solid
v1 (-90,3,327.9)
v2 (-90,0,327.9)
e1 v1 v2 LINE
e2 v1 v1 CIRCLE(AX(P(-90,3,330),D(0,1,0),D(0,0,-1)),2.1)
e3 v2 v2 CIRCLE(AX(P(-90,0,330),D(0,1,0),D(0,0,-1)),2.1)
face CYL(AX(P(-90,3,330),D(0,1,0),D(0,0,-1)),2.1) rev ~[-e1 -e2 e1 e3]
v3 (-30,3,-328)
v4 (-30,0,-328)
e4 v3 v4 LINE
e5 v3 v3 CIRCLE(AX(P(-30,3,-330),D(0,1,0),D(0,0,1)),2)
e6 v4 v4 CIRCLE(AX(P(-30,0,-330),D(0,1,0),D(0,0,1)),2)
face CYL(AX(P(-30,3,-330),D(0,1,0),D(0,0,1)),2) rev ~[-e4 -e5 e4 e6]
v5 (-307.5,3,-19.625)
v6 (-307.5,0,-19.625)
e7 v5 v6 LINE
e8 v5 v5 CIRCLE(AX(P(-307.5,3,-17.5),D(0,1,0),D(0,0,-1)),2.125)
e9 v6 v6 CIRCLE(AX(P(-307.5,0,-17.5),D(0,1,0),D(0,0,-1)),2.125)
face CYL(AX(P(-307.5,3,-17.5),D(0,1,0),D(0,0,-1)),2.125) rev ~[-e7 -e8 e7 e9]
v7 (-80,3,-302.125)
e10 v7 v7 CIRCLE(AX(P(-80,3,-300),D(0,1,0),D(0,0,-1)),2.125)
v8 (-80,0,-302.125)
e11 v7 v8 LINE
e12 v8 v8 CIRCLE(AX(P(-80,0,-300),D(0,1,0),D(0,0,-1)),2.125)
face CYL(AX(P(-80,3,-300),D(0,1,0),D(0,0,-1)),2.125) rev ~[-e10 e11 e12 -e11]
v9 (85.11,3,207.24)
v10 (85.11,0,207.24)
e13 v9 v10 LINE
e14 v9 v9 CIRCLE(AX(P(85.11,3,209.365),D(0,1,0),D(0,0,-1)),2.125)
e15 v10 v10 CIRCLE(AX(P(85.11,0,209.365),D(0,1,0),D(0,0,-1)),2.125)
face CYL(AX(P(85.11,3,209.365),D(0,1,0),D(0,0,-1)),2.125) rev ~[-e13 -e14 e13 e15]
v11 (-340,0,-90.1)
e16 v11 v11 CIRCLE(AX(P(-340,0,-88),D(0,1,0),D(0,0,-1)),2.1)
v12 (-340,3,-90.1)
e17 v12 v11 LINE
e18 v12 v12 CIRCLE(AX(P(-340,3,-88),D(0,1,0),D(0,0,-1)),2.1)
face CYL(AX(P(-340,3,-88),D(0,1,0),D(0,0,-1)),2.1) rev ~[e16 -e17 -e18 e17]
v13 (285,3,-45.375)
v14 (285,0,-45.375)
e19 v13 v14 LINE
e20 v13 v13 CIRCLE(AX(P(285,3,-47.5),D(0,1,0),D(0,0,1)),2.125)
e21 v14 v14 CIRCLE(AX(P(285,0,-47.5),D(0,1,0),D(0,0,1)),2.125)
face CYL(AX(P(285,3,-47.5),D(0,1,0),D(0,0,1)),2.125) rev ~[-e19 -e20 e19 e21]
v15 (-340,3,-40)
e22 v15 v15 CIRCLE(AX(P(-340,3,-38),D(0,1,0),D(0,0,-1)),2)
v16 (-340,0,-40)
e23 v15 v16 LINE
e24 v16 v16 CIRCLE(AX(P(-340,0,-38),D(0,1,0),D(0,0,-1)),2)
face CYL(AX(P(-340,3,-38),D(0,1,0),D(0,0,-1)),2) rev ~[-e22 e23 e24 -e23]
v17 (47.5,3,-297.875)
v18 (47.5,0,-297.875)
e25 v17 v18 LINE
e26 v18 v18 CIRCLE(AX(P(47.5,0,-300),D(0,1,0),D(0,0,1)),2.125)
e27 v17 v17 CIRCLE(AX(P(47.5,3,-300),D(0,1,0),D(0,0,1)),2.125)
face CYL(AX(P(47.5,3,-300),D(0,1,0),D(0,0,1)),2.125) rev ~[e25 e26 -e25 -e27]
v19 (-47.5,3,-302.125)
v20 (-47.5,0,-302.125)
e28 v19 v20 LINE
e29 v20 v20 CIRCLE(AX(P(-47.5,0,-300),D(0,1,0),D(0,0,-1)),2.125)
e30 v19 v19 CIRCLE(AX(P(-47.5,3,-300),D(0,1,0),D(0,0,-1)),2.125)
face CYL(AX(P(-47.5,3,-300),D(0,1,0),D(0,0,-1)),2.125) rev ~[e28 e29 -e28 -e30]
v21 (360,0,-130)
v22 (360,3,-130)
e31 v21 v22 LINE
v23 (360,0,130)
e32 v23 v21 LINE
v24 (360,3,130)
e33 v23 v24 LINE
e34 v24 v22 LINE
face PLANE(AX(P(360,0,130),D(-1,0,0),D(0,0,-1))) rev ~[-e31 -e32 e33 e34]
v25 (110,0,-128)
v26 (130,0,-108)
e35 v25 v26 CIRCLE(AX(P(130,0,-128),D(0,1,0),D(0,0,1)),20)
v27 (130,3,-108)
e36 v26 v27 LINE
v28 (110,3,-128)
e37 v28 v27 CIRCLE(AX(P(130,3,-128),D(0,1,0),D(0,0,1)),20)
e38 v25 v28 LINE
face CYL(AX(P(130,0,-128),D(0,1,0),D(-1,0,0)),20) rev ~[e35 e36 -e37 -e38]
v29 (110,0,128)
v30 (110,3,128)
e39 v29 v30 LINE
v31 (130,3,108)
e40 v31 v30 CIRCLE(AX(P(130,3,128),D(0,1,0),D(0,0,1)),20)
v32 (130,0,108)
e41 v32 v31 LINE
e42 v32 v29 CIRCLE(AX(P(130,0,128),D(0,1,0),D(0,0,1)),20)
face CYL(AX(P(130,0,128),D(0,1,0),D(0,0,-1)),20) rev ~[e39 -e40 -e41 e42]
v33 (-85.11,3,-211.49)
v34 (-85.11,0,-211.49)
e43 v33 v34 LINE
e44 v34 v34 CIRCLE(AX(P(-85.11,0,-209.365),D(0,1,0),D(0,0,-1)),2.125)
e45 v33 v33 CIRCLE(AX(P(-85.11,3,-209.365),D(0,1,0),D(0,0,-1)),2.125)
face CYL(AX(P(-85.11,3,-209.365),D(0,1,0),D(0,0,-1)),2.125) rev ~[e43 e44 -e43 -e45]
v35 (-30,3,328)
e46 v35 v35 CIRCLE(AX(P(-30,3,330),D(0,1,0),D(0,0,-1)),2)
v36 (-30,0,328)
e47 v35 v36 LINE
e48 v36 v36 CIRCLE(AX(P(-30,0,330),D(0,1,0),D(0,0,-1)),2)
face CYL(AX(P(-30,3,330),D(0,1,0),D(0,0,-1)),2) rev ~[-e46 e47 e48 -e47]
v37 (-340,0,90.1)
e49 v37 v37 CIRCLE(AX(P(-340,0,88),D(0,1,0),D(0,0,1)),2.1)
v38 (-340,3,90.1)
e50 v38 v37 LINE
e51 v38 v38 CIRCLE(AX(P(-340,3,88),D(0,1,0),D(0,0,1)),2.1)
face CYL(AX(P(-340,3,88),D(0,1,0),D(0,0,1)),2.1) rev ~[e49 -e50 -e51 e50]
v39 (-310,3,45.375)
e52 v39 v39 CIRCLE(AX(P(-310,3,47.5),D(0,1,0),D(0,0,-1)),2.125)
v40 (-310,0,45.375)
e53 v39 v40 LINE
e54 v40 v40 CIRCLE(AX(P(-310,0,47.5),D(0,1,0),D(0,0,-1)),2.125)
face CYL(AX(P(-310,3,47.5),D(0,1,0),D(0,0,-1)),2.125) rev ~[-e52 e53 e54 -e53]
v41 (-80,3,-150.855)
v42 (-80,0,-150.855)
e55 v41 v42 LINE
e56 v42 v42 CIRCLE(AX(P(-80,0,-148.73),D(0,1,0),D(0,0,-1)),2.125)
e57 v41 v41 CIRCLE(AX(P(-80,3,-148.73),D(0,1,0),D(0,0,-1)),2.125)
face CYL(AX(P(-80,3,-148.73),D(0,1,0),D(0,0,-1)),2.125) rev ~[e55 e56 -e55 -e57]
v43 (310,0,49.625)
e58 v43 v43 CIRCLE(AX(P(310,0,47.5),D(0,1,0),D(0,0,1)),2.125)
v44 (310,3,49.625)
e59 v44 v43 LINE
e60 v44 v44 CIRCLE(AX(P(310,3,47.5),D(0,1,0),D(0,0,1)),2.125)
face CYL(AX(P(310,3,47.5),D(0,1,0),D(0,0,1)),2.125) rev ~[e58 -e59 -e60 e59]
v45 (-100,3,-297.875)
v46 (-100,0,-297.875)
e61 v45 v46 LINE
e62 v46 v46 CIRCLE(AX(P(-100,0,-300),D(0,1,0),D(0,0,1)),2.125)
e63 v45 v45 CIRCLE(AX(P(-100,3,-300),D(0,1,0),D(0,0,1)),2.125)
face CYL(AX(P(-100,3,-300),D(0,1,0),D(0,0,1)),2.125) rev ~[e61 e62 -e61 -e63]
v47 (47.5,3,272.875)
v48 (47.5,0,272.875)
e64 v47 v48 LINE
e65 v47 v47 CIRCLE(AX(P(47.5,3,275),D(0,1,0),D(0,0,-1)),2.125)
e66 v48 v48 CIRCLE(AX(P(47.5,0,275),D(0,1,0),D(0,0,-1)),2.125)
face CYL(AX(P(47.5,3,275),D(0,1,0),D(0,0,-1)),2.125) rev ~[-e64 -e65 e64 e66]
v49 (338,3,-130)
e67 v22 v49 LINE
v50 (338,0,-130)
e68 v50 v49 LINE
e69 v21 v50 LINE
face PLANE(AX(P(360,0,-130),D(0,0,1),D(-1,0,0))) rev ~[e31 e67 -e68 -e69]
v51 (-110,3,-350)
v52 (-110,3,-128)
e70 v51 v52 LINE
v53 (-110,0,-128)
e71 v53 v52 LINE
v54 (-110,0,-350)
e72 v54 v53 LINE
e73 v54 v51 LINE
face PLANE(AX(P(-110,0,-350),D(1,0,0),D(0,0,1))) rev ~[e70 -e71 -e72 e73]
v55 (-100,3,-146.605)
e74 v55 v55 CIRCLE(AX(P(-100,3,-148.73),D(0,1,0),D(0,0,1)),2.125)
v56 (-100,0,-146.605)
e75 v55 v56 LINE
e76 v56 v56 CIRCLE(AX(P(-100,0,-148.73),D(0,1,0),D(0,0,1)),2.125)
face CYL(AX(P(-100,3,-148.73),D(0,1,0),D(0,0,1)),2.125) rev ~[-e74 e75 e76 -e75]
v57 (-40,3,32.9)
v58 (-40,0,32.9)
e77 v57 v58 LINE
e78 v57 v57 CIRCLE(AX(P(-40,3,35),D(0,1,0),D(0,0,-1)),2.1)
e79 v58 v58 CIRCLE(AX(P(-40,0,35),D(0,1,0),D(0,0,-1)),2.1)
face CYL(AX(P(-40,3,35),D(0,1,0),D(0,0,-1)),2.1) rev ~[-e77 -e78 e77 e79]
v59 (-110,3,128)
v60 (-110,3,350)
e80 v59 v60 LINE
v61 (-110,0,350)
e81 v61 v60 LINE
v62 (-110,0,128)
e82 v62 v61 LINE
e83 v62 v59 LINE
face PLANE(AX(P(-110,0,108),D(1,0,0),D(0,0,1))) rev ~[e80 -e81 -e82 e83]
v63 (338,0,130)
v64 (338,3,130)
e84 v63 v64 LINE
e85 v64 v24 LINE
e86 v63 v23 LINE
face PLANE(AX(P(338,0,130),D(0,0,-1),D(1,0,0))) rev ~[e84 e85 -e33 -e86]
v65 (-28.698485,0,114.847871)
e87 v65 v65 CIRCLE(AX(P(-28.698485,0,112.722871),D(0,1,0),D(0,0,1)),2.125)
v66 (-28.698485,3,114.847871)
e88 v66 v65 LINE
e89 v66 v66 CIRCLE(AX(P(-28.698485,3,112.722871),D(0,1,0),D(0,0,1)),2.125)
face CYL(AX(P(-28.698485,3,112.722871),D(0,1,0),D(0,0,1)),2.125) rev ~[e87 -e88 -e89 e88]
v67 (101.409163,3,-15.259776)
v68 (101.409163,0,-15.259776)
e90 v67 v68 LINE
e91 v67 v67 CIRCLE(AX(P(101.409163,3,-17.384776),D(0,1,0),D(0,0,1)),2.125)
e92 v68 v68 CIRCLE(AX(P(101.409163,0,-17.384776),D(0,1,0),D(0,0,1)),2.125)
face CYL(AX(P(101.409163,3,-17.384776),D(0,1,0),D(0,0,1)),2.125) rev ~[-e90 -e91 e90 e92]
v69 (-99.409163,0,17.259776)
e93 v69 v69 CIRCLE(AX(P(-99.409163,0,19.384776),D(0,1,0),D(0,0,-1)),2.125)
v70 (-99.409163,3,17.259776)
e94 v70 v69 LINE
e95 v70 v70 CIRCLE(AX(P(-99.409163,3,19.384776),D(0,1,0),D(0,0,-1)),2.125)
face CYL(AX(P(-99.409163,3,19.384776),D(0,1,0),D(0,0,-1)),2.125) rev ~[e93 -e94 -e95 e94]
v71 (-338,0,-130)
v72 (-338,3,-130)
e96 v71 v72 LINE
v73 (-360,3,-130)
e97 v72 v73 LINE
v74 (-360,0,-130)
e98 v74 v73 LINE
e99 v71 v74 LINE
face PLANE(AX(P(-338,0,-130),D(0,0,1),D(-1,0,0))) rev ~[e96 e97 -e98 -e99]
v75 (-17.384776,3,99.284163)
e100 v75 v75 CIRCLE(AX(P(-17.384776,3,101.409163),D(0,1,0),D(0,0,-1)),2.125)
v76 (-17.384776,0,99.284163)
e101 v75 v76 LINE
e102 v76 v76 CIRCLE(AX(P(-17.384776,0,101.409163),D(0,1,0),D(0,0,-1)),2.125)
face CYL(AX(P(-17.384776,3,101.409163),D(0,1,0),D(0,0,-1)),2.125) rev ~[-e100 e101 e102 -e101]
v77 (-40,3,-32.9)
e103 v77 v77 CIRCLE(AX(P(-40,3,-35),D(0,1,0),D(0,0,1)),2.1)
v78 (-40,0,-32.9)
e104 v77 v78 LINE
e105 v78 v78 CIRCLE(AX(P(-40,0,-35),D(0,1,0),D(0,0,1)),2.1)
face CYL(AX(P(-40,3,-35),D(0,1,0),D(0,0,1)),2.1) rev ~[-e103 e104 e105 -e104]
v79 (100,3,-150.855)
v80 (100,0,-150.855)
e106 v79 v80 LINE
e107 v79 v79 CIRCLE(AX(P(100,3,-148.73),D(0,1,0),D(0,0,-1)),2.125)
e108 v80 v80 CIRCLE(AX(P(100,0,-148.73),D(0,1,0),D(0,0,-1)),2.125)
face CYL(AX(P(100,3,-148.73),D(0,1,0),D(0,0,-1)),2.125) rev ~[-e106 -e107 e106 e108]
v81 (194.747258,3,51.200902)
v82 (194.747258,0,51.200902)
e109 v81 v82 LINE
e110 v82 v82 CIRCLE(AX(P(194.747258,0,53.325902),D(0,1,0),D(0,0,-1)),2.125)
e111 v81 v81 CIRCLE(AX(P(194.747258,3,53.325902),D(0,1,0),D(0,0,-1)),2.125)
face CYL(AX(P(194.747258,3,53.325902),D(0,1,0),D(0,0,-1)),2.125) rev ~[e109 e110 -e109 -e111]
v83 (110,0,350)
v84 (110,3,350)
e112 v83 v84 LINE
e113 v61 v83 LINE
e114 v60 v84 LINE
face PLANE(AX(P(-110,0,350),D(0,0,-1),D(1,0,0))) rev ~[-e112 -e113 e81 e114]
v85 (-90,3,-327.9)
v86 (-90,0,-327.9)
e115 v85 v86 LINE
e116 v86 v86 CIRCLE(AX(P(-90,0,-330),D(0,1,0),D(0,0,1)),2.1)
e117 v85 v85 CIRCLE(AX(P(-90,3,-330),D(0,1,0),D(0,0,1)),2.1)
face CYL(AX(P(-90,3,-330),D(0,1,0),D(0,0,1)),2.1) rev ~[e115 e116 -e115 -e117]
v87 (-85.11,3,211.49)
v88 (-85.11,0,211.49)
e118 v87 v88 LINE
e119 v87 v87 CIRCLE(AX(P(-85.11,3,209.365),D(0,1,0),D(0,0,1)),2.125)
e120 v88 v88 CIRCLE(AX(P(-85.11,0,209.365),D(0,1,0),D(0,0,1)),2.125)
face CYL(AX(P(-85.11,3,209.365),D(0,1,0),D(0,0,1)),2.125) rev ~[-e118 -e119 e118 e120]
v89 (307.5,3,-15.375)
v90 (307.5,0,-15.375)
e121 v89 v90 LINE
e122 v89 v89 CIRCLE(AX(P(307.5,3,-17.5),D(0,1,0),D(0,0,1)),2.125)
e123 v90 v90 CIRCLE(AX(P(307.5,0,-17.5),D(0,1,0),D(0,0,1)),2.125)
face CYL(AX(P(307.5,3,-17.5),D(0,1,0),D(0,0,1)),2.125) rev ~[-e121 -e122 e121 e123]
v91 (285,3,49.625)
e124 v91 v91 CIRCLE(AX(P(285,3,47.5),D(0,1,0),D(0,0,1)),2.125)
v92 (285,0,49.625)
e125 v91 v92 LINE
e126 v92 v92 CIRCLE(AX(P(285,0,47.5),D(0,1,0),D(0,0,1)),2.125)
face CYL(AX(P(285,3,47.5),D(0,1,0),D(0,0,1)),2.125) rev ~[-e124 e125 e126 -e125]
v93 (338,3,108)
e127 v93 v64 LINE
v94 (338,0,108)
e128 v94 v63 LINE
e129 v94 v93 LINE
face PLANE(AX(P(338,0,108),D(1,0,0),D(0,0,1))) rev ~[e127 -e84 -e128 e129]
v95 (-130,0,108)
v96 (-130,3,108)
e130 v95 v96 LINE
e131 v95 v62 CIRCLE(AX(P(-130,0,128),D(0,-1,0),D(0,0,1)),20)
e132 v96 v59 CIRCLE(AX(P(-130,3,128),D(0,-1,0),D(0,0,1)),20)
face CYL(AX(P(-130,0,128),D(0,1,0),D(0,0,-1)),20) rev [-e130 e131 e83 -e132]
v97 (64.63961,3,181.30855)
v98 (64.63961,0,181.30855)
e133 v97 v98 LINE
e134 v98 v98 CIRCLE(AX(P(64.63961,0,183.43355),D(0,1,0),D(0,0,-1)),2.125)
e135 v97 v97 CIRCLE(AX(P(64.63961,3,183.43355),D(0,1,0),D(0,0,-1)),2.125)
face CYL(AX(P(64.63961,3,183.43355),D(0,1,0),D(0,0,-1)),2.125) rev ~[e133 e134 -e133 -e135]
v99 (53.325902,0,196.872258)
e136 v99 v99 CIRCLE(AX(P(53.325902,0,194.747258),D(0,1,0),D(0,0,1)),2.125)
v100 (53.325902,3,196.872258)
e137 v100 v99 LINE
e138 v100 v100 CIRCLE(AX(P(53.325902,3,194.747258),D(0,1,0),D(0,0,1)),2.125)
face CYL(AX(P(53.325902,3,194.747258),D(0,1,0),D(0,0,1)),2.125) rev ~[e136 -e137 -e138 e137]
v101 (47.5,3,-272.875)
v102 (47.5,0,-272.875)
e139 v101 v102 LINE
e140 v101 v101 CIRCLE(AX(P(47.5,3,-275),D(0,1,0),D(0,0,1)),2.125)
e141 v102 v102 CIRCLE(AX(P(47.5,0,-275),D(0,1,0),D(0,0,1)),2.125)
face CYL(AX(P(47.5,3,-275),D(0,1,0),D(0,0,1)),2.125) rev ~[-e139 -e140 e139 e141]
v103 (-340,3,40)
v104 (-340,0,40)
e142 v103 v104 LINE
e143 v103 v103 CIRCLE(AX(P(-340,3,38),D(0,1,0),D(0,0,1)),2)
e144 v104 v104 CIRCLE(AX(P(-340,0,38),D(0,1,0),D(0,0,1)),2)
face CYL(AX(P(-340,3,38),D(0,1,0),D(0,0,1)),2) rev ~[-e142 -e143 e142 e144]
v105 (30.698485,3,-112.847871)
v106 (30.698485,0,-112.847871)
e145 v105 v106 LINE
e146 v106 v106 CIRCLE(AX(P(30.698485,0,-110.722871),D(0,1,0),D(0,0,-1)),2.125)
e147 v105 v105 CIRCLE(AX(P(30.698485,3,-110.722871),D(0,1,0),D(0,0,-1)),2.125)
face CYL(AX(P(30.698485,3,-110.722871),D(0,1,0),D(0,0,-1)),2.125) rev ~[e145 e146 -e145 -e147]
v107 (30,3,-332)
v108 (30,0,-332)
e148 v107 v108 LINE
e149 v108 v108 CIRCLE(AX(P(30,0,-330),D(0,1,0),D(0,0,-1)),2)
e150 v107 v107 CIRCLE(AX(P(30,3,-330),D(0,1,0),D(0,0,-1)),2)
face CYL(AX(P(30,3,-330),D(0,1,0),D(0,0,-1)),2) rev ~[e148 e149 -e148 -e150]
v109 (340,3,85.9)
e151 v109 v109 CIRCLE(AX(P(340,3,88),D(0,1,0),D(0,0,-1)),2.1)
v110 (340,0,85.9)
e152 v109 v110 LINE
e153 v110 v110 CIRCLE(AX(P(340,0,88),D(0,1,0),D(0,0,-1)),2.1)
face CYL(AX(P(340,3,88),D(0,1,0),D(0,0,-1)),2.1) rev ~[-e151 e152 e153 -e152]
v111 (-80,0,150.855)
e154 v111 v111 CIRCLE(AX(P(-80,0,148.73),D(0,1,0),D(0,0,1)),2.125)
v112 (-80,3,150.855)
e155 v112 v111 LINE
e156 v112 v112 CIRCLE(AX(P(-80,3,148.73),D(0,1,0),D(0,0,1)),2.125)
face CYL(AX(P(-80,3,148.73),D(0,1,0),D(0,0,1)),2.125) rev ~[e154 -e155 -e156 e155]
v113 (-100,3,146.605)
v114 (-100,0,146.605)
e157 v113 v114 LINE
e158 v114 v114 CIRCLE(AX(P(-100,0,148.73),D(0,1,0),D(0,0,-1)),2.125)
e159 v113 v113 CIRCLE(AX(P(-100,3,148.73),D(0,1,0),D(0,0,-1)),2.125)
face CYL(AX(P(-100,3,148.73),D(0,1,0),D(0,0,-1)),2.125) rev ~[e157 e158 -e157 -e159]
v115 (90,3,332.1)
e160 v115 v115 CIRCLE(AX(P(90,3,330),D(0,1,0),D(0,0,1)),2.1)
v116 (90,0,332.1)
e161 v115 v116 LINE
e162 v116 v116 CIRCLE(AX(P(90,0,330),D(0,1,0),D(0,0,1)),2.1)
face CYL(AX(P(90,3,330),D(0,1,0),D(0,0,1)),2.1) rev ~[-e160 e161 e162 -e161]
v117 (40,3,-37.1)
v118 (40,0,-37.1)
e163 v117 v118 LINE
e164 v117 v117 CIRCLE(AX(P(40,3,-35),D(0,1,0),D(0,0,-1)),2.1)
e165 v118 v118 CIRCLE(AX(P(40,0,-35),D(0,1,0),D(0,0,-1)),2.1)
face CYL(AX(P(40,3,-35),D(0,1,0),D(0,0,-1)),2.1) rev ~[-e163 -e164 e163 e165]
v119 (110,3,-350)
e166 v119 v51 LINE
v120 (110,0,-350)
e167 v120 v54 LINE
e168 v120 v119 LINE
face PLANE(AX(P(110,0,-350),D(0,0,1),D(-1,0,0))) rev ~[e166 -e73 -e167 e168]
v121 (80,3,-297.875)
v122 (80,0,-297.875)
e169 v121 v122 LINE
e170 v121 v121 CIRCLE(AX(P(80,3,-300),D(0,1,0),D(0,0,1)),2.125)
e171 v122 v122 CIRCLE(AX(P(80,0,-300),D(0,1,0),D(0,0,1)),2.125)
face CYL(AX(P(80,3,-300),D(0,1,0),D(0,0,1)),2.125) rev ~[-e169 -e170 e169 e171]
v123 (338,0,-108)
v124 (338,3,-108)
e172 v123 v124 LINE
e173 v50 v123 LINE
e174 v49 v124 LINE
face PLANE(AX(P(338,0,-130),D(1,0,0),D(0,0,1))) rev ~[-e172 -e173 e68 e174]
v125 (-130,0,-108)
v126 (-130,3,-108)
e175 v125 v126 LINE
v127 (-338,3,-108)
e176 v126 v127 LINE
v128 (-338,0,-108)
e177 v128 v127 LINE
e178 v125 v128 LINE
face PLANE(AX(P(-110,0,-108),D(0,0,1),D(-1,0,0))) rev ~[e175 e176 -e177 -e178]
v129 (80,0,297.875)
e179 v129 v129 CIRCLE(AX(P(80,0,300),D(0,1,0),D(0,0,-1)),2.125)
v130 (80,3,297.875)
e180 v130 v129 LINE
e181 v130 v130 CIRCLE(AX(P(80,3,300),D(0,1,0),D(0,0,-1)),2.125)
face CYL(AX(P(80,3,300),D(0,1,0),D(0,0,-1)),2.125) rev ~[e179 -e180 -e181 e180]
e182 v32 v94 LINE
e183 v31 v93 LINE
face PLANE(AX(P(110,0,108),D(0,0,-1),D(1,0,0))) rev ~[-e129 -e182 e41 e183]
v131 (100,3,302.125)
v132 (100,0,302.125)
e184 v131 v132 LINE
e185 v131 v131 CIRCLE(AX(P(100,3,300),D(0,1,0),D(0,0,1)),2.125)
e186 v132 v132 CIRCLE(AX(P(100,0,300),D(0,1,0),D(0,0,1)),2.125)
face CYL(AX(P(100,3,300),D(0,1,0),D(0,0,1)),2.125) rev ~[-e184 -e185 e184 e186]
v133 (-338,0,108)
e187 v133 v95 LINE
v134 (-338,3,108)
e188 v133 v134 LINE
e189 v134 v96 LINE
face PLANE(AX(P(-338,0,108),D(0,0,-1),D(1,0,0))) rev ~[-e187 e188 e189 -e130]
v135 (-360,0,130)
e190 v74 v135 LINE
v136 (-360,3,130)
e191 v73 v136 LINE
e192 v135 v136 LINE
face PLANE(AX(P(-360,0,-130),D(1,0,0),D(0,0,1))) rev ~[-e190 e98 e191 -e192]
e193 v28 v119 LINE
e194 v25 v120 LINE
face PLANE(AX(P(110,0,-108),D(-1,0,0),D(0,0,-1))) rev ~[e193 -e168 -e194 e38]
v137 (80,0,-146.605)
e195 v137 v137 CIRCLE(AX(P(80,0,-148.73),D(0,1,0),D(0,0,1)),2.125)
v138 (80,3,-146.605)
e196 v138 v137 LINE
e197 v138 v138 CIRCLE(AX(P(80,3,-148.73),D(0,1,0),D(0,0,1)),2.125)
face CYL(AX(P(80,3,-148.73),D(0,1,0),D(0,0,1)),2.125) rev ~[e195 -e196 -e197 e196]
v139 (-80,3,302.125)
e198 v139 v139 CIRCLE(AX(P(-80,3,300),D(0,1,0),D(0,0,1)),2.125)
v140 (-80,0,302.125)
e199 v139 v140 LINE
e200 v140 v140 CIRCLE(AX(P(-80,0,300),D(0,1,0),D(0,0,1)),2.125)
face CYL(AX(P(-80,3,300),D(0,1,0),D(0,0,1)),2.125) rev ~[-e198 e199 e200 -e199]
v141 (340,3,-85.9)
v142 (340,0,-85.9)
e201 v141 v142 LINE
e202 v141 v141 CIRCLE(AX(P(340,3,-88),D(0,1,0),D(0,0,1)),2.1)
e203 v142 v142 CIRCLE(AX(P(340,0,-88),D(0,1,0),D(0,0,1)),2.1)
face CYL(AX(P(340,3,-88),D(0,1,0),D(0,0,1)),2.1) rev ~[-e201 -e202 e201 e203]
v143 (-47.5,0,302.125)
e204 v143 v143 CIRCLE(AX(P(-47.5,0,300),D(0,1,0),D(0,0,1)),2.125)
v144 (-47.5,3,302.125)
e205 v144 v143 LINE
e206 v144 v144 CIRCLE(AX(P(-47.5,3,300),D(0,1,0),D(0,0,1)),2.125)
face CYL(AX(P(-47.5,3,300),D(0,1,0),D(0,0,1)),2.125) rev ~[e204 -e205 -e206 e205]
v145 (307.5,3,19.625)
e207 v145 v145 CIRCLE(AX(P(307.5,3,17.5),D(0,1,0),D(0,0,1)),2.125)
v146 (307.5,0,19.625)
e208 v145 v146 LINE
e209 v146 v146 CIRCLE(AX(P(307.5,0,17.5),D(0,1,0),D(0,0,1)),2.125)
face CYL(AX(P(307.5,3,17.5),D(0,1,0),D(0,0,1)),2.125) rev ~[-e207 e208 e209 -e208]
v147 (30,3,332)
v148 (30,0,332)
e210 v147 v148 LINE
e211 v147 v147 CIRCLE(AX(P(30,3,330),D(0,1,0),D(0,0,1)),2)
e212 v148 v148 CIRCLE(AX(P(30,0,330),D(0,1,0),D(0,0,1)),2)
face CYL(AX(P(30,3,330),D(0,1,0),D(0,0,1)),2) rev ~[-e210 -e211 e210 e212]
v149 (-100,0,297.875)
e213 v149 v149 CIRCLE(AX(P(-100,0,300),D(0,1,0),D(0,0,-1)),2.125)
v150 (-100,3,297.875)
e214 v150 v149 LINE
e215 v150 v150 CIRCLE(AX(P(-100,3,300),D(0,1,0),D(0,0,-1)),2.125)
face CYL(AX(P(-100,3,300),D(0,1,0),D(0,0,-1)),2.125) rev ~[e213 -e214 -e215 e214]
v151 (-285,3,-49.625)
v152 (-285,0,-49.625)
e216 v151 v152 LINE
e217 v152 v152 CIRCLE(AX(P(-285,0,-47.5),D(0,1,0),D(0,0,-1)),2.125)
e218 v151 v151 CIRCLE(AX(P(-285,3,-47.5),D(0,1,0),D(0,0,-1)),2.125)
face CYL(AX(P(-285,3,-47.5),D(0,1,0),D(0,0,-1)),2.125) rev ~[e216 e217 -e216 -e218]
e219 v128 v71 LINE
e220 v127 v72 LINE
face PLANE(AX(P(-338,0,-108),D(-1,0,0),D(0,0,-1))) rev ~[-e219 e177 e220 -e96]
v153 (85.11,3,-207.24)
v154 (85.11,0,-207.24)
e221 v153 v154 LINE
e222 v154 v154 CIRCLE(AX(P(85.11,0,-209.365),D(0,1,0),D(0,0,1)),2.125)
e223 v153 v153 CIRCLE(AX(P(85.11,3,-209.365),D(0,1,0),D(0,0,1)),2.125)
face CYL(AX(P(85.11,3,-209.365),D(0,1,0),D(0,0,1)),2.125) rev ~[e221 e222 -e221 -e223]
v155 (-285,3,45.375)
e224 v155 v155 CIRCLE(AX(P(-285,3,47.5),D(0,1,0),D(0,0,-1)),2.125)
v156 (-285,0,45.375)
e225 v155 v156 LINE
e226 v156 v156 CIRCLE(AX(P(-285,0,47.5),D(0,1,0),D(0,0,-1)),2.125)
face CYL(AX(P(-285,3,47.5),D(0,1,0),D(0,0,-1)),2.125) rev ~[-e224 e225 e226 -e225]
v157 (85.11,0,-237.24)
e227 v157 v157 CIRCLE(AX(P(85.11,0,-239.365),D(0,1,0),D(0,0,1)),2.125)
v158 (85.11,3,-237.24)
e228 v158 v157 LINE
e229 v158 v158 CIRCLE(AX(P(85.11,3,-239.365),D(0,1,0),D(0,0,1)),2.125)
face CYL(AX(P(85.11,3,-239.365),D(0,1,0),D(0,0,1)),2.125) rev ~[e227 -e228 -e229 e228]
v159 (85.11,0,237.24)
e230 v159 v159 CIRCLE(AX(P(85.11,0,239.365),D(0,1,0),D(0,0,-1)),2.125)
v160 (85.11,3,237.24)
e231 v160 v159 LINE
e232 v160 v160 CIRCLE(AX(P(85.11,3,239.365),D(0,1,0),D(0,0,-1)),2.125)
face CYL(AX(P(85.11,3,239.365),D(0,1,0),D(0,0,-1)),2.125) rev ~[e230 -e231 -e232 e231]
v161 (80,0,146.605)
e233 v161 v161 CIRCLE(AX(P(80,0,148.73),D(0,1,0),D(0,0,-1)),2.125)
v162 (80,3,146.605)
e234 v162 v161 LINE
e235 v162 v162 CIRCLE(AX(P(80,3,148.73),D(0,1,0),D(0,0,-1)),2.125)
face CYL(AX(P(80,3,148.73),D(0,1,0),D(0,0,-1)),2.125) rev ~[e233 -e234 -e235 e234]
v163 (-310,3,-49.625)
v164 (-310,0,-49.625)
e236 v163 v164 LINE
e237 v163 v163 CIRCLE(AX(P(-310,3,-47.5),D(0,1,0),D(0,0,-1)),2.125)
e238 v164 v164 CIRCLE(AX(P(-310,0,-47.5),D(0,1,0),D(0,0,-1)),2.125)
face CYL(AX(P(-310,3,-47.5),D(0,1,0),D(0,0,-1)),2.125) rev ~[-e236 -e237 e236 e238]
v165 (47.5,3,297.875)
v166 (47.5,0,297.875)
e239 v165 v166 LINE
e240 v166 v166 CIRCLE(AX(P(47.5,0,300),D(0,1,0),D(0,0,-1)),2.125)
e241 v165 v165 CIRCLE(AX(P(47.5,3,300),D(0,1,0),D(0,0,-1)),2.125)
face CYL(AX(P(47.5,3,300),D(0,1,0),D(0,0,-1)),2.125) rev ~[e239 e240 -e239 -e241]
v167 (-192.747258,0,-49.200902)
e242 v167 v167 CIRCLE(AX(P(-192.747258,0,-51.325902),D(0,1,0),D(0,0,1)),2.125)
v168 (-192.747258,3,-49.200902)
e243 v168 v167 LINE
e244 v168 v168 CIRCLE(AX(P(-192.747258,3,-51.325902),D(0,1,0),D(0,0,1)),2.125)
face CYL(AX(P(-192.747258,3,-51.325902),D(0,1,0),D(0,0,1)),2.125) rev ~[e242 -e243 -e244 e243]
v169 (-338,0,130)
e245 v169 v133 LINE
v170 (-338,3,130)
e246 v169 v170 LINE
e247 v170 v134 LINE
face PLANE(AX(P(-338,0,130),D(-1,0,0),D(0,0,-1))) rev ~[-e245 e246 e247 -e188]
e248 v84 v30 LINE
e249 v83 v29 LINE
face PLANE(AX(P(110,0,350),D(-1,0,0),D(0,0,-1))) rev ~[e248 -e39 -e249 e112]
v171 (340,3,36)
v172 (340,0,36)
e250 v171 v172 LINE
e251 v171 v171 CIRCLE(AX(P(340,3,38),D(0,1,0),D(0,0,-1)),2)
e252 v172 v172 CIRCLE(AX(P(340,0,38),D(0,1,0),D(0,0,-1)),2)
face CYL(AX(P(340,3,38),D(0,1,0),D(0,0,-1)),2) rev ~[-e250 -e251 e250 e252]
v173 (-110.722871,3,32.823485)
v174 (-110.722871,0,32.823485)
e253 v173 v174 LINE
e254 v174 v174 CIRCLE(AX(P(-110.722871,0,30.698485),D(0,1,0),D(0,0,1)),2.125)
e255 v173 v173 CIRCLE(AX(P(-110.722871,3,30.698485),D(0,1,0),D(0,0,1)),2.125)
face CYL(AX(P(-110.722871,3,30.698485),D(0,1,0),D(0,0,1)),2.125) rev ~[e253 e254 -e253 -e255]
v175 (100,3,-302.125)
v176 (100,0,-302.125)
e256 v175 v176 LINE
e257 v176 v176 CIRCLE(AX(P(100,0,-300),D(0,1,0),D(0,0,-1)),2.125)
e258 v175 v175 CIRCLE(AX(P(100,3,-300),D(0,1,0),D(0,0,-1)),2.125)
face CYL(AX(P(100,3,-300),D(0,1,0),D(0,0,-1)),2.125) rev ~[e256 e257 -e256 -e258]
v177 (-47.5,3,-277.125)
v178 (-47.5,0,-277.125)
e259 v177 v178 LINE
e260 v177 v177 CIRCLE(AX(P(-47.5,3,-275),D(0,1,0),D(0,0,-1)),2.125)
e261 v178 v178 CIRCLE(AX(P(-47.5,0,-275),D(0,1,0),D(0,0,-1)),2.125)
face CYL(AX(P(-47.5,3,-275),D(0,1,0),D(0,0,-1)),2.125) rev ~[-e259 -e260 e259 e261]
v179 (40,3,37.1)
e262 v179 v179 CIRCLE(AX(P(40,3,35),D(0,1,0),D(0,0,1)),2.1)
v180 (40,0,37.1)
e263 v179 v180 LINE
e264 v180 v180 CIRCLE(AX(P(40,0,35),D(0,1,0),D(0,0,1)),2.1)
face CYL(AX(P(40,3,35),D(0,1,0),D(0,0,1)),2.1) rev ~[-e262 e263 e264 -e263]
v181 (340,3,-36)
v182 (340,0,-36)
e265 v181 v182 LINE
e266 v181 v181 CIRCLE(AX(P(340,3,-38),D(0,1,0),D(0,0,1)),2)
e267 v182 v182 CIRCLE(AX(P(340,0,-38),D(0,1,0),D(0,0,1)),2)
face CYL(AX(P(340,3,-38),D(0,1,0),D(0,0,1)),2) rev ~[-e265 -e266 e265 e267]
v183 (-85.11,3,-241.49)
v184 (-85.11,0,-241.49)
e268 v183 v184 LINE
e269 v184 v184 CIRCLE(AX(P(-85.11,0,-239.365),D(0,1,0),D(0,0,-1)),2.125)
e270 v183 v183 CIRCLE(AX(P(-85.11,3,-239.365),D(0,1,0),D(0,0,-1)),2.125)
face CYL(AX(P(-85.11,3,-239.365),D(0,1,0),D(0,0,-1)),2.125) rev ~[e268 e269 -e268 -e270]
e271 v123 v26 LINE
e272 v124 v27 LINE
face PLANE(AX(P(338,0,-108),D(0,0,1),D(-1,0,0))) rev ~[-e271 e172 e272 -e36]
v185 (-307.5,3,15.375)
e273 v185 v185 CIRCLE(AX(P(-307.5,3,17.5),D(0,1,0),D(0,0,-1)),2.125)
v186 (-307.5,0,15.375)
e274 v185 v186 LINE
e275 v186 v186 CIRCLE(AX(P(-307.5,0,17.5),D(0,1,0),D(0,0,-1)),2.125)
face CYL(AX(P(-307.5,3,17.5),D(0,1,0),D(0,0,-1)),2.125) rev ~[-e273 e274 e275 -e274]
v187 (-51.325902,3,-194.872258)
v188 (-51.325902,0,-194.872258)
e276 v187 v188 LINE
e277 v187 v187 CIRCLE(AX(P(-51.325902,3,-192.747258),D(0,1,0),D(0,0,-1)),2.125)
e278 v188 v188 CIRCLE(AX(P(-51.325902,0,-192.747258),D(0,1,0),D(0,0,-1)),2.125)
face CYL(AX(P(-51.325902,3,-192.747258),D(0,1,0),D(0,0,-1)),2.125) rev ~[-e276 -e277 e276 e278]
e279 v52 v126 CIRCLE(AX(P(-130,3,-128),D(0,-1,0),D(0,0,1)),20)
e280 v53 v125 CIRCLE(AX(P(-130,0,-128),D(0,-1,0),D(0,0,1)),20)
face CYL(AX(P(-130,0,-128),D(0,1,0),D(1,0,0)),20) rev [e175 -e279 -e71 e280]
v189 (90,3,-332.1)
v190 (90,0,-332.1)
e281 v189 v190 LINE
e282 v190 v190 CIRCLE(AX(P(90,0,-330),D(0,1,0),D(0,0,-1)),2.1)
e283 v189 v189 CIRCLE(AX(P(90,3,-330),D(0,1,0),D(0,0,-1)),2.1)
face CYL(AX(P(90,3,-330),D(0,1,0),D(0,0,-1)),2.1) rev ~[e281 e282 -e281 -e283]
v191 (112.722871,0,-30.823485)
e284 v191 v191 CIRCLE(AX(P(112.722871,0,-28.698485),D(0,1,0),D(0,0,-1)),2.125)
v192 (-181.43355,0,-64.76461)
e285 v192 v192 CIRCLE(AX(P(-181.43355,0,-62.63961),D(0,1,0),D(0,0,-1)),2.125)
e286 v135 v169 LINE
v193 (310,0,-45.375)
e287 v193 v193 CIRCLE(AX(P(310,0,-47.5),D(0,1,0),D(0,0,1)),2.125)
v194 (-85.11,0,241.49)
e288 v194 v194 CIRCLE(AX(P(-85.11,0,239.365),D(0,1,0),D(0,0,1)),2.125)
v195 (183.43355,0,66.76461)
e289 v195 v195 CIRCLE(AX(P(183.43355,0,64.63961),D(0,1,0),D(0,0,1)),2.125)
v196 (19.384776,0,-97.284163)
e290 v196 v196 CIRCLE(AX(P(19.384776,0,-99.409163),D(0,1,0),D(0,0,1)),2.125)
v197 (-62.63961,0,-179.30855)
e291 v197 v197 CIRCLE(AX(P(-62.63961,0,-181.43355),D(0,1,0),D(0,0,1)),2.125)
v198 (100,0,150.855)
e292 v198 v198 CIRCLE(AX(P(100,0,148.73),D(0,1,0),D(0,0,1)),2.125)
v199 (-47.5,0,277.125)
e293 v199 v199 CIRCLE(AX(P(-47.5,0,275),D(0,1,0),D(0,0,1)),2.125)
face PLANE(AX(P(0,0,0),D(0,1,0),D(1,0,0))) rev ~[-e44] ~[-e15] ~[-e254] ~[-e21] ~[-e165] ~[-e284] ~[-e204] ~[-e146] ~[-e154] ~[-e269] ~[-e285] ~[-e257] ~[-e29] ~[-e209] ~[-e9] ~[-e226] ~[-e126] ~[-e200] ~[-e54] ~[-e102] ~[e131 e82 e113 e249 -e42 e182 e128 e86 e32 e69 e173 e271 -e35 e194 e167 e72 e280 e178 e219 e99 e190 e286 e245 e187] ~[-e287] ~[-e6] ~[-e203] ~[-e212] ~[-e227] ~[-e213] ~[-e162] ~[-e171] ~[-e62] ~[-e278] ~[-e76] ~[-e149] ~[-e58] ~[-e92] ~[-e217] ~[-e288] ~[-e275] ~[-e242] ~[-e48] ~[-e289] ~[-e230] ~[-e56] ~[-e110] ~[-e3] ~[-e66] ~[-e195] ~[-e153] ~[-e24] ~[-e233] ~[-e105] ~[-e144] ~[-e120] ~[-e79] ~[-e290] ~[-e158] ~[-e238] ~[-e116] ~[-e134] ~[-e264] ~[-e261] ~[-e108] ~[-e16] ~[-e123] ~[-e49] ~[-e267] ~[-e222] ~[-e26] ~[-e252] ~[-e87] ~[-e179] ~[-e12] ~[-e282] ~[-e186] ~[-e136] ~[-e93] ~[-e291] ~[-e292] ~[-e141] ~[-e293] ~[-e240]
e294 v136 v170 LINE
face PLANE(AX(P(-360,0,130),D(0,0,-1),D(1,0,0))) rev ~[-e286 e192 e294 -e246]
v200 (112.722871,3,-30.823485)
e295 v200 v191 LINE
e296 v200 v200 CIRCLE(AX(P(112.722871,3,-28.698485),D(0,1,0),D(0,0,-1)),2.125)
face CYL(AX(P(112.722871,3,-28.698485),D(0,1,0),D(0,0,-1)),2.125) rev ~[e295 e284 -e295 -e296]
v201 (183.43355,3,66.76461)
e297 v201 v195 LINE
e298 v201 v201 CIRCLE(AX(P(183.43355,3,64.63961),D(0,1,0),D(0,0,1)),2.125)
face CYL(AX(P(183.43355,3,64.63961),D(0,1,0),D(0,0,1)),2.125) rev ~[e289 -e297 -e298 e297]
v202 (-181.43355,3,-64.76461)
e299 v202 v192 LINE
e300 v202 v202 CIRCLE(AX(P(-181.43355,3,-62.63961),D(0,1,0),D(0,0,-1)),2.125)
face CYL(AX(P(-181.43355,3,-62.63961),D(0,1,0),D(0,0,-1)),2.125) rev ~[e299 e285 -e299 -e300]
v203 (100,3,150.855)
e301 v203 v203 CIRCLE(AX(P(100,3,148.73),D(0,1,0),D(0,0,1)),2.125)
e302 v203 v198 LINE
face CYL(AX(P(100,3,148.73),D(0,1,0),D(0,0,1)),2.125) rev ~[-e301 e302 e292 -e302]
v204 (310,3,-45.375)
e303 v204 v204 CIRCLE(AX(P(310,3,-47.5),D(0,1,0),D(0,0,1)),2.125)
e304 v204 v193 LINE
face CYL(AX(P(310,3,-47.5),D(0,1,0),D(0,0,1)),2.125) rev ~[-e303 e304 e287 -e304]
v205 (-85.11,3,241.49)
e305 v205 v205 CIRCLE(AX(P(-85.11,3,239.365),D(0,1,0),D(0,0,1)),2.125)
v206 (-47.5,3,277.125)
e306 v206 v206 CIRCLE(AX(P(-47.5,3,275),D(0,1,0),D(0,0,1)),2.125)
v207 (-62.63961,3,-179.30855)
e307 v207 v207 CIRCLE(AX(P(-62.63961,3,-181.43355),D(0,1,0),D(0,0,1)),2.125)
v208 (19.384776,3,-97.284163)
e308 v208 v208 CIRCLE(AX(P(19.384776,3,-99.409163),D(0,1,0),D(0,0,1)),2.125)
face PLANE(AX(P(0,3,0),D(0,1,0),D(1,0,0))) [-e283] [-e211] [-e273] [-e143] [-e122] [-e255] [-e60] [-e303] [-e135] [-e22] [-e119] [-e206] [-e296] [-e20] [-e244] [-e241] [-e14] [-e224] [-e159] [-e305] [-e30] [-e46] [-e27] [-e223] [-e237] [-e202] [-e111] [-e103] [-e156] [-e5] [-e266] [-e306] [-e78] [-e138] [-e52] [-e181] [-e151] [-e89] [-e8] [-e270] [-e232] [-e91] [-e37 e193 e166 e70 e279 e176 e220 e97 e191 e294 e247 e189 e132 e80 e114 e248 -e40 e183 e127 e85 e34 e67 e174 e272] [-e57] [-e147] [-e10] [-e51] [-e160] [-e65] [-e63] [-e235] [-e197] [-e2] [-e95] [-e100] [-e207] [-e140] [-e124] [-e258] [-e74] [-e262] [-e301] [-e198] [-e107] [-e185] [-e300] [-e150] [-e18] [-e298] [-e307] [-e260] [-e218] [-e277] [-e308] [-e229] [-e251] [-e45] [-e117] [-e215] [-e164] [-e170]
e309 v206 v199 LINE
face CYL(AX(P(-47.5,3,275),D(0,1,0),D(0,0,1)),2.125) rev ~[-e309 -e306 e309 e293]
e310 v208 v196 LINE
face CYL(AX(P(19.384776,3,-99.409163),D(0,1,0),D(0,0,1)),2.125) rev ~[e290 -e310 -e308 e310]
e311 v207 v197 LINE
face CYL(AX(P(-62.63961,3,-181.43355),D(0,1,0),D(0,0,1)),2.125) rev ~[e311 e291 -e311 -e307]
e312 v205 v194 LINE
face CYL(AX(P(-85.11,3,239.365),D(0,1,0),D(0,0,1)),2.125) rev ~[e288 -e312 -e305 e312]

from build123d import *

# Parameters (mm, degrees)
BOSS_EXTRUDE1_DEPTH = 3
SKETCH2_R           = 2.125
CUT_EXTRUDE1_DEPTH  = 503.104570782
SKETCH3_R           = 2
CUT_EXTRUDE2_DEPTH  = 503.104570782
SKETCH5_R           = 2.125
CUT_EXTRUDE4_DEPTH  = 10
FILLET1_R           = 20
SKETCH6_R           = 2.125
CUT_EXTRUDE5_DEPTH  = 503.104570782
SKETCH8_R           = 2.1
CUT_EXTRUDE6_DEPTH  = 10
SKETCH7_R           = 2.1
CUT_EXTRUDE7_DEPTH  = 10


with BuildPart() as part:
    # Sketch1 → Boss-Extrude1 (new body)
    with BuildSketch(Plane(origin=(0, 0, 0), x_dir=(1, 0, 0), z_dir=(0, 1, 0))):
        Polygon((-110, 350), (-110, 108), (-338, 108), (-338, 130), (-360, 130), (-360, -130), (-338, -130), (-338, -108), (-110, -108), (-110, -350), (110, -350), (110, -108), (338, -108), (338, -130), (360, -130), (360, 130), (338, 130), (338, 108), (110, 108), (110, 350), align=None)
    extrude(amount=BOSS_EXTRUDE1_DEPTH)

    # Sketch2 → Cut-Extrude1 (cut, through all)
    with BuildSketch(Plane(origin=(0, 3, 0), x_dir=(1, 0, 0), z_dir=(0, 1, 0))):
        with Locations(Location((310, 47.5, 0), (0, 0, 270))):
            Circle(SKETCH2_R)
        with Locations(Location((285, 47.5, 0), (0, 0, 270))):
            Circle(SKETCH2_R)
        with Locations(Location((307.5, 17.5, 0), (0, 0, 270))):
            Circle(SKETCH2_R)
        with Locations(Location((307.5, -17.5, 0), (0, 0, 270))):
            Circle(SKETCH2_R)
        with Locations(Location((310, -47.5, 0), (0, 0, 270))):
            Circle(SKETCH2_R)
        with Locations(Location((285, -47.5, 0), (0, 0, 270))):
            Circle(SKETCH2_R)
        with Locations(Location((-285, -47.5, 0), (0, 0, 90))):
            Circle(SKETCH2_R)
        with Locations(Location((-310, -47.5, 0), (0, 0, 90))):
            Circle(SKETCH2_R)
        with Locations(Location((-307.5, -17.5, 0), (0, 0, 90))):
            Circle(SKETCH2_R)
        with Locations(Location((-307.5, 17.5, 0), (0, 0, 90))):
            Circle(SKETCH2_R)
        with Locations(Location((-285, 47.5, 0), (0, 0, 90))):
            Circle(SKETCH2_R)
        with Locations(Location((-310, 47.5, 0), (0, 0, 90))):
            Circle(SKETCH2_R)
        with Locations(Location((47.5, 300, 0), (0, 0, 270))):
            Circle(SKETCH2_R)
        with Locations(Location((47.5, 275, 0), (0, 0, 270))):
            Circle(SKETCH2_R)
        with Locations(Location((-47.5, 275, 0), (0, 0, 90))):
            Circle(SKETCH2_R)
        with Locations(Location((-47.5, 300, 0), (0, 0, 90))):
            Circle(SKETCH2_R)
        with Locations(Location((-47.5, -300, 0), (0, 0, 270))):
            Circle(SKETCH2_R)
        with Locations(Location((-47.5, -275, 0), (0, 0, 270))):
            Circle(SKETCH2_R)
        with Locations(Location((47.5, -275, 0), (0, 0, 90))):
            Circle(SKETCH2_R)
        with Locations(Location((47.5, -300, 0), (0, 0, 90))):
            Circle(SKETCH2_R)
    extrude(amount=-CUT_EXTRUDE1_DEPTH, mode=Mode.SUBTRACT)

    # Sketch3 → Cut-Extrude2 (cut, through all)
    with BuildSketch(Plane(origin=(0, 3, 0), x_dir=(1, 0, 0), z_dir=(0, 1, 0))):
        with Locations(Location((340, 38, 0), (0, 0, 270))):
            Circle(SKETCH3_R)
        with Locations(Location((340, -38, 0), (0, 0, 90))):
            Circle(SKETCH3_R)
        with Locations(Location((-340, -38, 0), (0, 0, 270))):
            Circle(SKETCH3_R)
        with Locations(Location((-340, 38, 0), (0, 0, 90))):
            Circle(SKETCH3_R)
        with Locations(Location((-30, 330, 0), (0, 0, 270))):
            Circle(SKETCH3_R)
        with Locations(Location((30, 330, 0), (0, 0, 90))):
            Circle(SKETCH3_R)
        with Locations(Location((30, -330, 0), (0, 0, 270))):
            Circle(SKETCH3_R)
        with Locations(Location((-30, -330, 0), (0, 0, 90))):
            Circle(SKETCH3_R)
    extrude(amount=-CUT_EXTRUDE2_DEPTH, mode=Mode.SUBTRACT)

    # Sketch5 → Cut-Extrude4 (cut)
    with BuildSketch(Plane(origin=(0, 3, 0), x_dir=(1, 0, 0), z_dir=(0, 1, 0))):
        with Locations(Location((80, 300, 0), (0, 0, 270))):
            Circle(SKETCH5_R)
        with Locations(Location((80, 148.73, 0), (0, 0, 270))):
            Circle(SKETCH5_R)
        with Locations(Location((85.11, 239.365, 0), (0, 0, 270))):
            Circle(SKETCH5_R)
        with Locations(Location((85.11, 209.365, 0), (0, 0, 270))):
            Circle(SKETCH5_R)
        with Locations(Location((100, 148.73, 0), (0, 0, 90))):
            Circle(SKETCH5_R)
        with Locations(Location((100, 300, 0), (0, 0, 90))):
            Circle(SKETCH5_R)
        with Locations(Location((-100, 300, 0), (0, 0, 270))):
            Circle(SKETCH5_R)
        with Locations(Location((-100, 148.73, 0), (0, 0, 270))):
            Circle(SKETCH5_R)
        with Locations(Location((-85.11, 209.365, 0), (0, 0, 90))):
            Circle(SKETCH5_R)
        with Locations(Location((-85.11, 239.365, 0), (0, 0, 90))):
            Circle(SKETCH5_R)
        with Locations(Location((-80, 148.73, 0), (0, 0, 90))):
            Circle(SKETCH5_R)
        with Locations(Location((-80, 300, 0), (0, 0, 90))):
            Circle(SKETCH5_R)
        with Locations(Location((-80, -300, 0), (0, 0, 270))):
            Circle(SKETCH5_R)
        with Locations(Location((-80, -148.73, 0), (0, 0, 270))):
            Circle(SKETCH5_R)
        with Locations(Location((-85.11, -239.365, 0), (0, 0, 270))):
            Circle(SKETCH5_R)
        with Locations(Location((-85.11, -209.365, 0), (0, 0, 270))):
            Circle(SKETCH5_R)
        with Locations(Location((-100, -148.73, 0), (0, 0, 90))):
            Circle(SKETCH5_R)
        with Locations(Location((-100, -300, 0), (0, 0, 90))):
            Circle(SKETCH5_R)
        with Locations(Location((100, -300, 0), (0, 0, 270))):
            Circle(SKETCH5_R)
        with Locations(Location((100, -148.73, 0), (0, 0, 270))):
            Circle(SKETCH5_R)
        with Locations(Location((85.11, -209.365, 0), (0, 0, 90))):
            Circle(SKETCH5_R)
        with Locations(Location((85.11, -239.365, 0), (0, 0, 90))):
            Circle(SKETCH5_R)
        with Locations(Location((80, -148.73, 0), (0, 0, 90))):
            Circle(SKETCH5_R)
        with Locations(Location((80, -300, 0), (0, 0, 90))):
            Circle(SKETCH5_R)
    extrude(amount=-CUT_EXTRUDE4_DEPTH, mode=Mode.SUBTRACT)

    # Fillet1
    fillet1_edges = [part.edges().sort_by_distance(p)[0] for p in [
        (110, 1.5, -108),
        (110, 1.5, 108),
        (-110, 1.5, 108),
        (-110, 1.5, -108),
    ]]
    fillet(fillet1_edges, radius=FILLET1_R)

    # Sketch6 → Cut-Extrude5 (cut, through all)
    with BuildSketch(Plane(origin=(0, 3, 0), x_dir=(1, 0, 0), z_dir=(0, 1, 0))):
        with Locations(Location((53.325901808, -194.747258045, 0), (0, 0, 270))):
            Circle(SKETCH6_R)
        with Locations(Location((-192.747258045, 51.325901808, 0), (0, 0, 270))):
            Circle(SKETCH6_R)
        with Locations(Location((-28.69848481, -112.722871427, 0), (0, 0, 270))):
            Circle(SKETCH6_R)
        with Locations(Location((-110.722871427, -30.69848481, 0), (0, 0, 270))):
            Circle(SKETCH6_R)
        with Locations(Location((64.639610307, -183.433549546, 0), (0, 0, 90))):
            Circle(SKETCH6_R)
        with Locations(Location((-17.384776311, -101.409162928, 0), (0, 0, 90))):
            Circle(SKETCH6_R)
        with Locations(Location((-99.409162928, -19.384776311, 0), (0, 0, 90))):
            Circle(SKETCH6_R)
        with Locations(Location((-181.433549546, 62.639610307, 0), (0, 0, 90))):
            Circle(SKETCH6_R)
        with Locations(Location((-62.639610307, 181.433549546, 0), (0, 0, 270))):
            Circle(SKETCH6_R)
        with Locations(Location((19.384776311, 99.409162928, 0), (0, 0, 270))):
            Circle(SKETCH6_R)
        with Locations(Location((101.409162928, 17.384776311, 0), (0, 0, 270))):
            Circle(SKETCH6_R)
        with Locations(Location((183.433549546, -64.639610307, 0), (0, 0, 270))):
            Circle(SKETCH6_R)
        with Locations(Location((30.69848481, 110.722871427, 0), (0, 0, 90))):
            Circle(SKETCH6_R)
        with Locations(Location((112.722871427, 28.69848481, 0), (0, 0, 90))):
            Circle(SKETCH6_R)
        with Locations(Location((-51.325901808, 192.747258045, 0), (0, 0, 90))):
            Circle(SKETCH6_R)
        with Locations(Location((194.747258045, -53.325901808, 0), (0, 0, 90))):
            Circle(SKETCH6_R)
    extrude(amount=-CUT_EXTRUDE5_DEPTH, mode=Mode.SUBTRACT)

    # Sketch8 → Cut-Extrude6 (cut)
    with BuildSketch(Plane(origin=(0, 3, 0), x_dir=(1, 0, 0), z_dir=(0, 1, 0))):
        with Locations(Location((-40, 35, 0), (0, 0, 270))):
            Circle(SKETCH8_R)
        with Locations(Location((40, 35, 0), (0, 0, 90))):
            Circle(SKETCH8_R)
        with Locations(Location((40, -35, 0), (0, 0, 270))):
            Circle(SKETCH8_R)
        with Locations(Location((-40, -35, 0), (0, 0, 90))):
            Circle(SKETCH8_R)
    extrude(amount=-CUT_EXTRUDE6_DEPTH, mode=Mode.SUBTRACT)

    # Sketch7 → Cut-Extrude7 (cut)
    with BuildSketch(Plane(origin=(0, 3, 0), x_dir=(1, 0, 0), z_dir=(0, 1, 0))):
        with Locations(Location((340, 88, 0), (0, 0, 270))):
            Circle(SKETCH7_R)
        with Locations(Location((340, -88, 0), (0, 0, 90))):
            Circle(SKETCH7_R)
        with Locations(Location((-340, -88, 0), (0, 0, 270))):
            Circle(SKETCH7_R)
        with Locations(Location((-340, 88, 0), (0, 0, 90))):
            Circle(SKETCH7_R)
        with Locations(Location((-90, 330, 0), (0, 0, 270))):
            Circle(SKETCH7_R)
        with Locations(Location((90, 330, 0), (0, 0, 90))):
            Circle(SKETCH7_R)
        with Locations(Location((90, -330, 0), (0, 0, 270))):
            Circle(SKETCH7_R)
        with Locations(Location((-90, -330, 0), (0, 0, 90))):
            Circle(SKETCH7_R)
    extrude(amount=-CUT_EXTRUDE7_DEPTH, mode=Mode.SUBTRACT)


solid = part.part
